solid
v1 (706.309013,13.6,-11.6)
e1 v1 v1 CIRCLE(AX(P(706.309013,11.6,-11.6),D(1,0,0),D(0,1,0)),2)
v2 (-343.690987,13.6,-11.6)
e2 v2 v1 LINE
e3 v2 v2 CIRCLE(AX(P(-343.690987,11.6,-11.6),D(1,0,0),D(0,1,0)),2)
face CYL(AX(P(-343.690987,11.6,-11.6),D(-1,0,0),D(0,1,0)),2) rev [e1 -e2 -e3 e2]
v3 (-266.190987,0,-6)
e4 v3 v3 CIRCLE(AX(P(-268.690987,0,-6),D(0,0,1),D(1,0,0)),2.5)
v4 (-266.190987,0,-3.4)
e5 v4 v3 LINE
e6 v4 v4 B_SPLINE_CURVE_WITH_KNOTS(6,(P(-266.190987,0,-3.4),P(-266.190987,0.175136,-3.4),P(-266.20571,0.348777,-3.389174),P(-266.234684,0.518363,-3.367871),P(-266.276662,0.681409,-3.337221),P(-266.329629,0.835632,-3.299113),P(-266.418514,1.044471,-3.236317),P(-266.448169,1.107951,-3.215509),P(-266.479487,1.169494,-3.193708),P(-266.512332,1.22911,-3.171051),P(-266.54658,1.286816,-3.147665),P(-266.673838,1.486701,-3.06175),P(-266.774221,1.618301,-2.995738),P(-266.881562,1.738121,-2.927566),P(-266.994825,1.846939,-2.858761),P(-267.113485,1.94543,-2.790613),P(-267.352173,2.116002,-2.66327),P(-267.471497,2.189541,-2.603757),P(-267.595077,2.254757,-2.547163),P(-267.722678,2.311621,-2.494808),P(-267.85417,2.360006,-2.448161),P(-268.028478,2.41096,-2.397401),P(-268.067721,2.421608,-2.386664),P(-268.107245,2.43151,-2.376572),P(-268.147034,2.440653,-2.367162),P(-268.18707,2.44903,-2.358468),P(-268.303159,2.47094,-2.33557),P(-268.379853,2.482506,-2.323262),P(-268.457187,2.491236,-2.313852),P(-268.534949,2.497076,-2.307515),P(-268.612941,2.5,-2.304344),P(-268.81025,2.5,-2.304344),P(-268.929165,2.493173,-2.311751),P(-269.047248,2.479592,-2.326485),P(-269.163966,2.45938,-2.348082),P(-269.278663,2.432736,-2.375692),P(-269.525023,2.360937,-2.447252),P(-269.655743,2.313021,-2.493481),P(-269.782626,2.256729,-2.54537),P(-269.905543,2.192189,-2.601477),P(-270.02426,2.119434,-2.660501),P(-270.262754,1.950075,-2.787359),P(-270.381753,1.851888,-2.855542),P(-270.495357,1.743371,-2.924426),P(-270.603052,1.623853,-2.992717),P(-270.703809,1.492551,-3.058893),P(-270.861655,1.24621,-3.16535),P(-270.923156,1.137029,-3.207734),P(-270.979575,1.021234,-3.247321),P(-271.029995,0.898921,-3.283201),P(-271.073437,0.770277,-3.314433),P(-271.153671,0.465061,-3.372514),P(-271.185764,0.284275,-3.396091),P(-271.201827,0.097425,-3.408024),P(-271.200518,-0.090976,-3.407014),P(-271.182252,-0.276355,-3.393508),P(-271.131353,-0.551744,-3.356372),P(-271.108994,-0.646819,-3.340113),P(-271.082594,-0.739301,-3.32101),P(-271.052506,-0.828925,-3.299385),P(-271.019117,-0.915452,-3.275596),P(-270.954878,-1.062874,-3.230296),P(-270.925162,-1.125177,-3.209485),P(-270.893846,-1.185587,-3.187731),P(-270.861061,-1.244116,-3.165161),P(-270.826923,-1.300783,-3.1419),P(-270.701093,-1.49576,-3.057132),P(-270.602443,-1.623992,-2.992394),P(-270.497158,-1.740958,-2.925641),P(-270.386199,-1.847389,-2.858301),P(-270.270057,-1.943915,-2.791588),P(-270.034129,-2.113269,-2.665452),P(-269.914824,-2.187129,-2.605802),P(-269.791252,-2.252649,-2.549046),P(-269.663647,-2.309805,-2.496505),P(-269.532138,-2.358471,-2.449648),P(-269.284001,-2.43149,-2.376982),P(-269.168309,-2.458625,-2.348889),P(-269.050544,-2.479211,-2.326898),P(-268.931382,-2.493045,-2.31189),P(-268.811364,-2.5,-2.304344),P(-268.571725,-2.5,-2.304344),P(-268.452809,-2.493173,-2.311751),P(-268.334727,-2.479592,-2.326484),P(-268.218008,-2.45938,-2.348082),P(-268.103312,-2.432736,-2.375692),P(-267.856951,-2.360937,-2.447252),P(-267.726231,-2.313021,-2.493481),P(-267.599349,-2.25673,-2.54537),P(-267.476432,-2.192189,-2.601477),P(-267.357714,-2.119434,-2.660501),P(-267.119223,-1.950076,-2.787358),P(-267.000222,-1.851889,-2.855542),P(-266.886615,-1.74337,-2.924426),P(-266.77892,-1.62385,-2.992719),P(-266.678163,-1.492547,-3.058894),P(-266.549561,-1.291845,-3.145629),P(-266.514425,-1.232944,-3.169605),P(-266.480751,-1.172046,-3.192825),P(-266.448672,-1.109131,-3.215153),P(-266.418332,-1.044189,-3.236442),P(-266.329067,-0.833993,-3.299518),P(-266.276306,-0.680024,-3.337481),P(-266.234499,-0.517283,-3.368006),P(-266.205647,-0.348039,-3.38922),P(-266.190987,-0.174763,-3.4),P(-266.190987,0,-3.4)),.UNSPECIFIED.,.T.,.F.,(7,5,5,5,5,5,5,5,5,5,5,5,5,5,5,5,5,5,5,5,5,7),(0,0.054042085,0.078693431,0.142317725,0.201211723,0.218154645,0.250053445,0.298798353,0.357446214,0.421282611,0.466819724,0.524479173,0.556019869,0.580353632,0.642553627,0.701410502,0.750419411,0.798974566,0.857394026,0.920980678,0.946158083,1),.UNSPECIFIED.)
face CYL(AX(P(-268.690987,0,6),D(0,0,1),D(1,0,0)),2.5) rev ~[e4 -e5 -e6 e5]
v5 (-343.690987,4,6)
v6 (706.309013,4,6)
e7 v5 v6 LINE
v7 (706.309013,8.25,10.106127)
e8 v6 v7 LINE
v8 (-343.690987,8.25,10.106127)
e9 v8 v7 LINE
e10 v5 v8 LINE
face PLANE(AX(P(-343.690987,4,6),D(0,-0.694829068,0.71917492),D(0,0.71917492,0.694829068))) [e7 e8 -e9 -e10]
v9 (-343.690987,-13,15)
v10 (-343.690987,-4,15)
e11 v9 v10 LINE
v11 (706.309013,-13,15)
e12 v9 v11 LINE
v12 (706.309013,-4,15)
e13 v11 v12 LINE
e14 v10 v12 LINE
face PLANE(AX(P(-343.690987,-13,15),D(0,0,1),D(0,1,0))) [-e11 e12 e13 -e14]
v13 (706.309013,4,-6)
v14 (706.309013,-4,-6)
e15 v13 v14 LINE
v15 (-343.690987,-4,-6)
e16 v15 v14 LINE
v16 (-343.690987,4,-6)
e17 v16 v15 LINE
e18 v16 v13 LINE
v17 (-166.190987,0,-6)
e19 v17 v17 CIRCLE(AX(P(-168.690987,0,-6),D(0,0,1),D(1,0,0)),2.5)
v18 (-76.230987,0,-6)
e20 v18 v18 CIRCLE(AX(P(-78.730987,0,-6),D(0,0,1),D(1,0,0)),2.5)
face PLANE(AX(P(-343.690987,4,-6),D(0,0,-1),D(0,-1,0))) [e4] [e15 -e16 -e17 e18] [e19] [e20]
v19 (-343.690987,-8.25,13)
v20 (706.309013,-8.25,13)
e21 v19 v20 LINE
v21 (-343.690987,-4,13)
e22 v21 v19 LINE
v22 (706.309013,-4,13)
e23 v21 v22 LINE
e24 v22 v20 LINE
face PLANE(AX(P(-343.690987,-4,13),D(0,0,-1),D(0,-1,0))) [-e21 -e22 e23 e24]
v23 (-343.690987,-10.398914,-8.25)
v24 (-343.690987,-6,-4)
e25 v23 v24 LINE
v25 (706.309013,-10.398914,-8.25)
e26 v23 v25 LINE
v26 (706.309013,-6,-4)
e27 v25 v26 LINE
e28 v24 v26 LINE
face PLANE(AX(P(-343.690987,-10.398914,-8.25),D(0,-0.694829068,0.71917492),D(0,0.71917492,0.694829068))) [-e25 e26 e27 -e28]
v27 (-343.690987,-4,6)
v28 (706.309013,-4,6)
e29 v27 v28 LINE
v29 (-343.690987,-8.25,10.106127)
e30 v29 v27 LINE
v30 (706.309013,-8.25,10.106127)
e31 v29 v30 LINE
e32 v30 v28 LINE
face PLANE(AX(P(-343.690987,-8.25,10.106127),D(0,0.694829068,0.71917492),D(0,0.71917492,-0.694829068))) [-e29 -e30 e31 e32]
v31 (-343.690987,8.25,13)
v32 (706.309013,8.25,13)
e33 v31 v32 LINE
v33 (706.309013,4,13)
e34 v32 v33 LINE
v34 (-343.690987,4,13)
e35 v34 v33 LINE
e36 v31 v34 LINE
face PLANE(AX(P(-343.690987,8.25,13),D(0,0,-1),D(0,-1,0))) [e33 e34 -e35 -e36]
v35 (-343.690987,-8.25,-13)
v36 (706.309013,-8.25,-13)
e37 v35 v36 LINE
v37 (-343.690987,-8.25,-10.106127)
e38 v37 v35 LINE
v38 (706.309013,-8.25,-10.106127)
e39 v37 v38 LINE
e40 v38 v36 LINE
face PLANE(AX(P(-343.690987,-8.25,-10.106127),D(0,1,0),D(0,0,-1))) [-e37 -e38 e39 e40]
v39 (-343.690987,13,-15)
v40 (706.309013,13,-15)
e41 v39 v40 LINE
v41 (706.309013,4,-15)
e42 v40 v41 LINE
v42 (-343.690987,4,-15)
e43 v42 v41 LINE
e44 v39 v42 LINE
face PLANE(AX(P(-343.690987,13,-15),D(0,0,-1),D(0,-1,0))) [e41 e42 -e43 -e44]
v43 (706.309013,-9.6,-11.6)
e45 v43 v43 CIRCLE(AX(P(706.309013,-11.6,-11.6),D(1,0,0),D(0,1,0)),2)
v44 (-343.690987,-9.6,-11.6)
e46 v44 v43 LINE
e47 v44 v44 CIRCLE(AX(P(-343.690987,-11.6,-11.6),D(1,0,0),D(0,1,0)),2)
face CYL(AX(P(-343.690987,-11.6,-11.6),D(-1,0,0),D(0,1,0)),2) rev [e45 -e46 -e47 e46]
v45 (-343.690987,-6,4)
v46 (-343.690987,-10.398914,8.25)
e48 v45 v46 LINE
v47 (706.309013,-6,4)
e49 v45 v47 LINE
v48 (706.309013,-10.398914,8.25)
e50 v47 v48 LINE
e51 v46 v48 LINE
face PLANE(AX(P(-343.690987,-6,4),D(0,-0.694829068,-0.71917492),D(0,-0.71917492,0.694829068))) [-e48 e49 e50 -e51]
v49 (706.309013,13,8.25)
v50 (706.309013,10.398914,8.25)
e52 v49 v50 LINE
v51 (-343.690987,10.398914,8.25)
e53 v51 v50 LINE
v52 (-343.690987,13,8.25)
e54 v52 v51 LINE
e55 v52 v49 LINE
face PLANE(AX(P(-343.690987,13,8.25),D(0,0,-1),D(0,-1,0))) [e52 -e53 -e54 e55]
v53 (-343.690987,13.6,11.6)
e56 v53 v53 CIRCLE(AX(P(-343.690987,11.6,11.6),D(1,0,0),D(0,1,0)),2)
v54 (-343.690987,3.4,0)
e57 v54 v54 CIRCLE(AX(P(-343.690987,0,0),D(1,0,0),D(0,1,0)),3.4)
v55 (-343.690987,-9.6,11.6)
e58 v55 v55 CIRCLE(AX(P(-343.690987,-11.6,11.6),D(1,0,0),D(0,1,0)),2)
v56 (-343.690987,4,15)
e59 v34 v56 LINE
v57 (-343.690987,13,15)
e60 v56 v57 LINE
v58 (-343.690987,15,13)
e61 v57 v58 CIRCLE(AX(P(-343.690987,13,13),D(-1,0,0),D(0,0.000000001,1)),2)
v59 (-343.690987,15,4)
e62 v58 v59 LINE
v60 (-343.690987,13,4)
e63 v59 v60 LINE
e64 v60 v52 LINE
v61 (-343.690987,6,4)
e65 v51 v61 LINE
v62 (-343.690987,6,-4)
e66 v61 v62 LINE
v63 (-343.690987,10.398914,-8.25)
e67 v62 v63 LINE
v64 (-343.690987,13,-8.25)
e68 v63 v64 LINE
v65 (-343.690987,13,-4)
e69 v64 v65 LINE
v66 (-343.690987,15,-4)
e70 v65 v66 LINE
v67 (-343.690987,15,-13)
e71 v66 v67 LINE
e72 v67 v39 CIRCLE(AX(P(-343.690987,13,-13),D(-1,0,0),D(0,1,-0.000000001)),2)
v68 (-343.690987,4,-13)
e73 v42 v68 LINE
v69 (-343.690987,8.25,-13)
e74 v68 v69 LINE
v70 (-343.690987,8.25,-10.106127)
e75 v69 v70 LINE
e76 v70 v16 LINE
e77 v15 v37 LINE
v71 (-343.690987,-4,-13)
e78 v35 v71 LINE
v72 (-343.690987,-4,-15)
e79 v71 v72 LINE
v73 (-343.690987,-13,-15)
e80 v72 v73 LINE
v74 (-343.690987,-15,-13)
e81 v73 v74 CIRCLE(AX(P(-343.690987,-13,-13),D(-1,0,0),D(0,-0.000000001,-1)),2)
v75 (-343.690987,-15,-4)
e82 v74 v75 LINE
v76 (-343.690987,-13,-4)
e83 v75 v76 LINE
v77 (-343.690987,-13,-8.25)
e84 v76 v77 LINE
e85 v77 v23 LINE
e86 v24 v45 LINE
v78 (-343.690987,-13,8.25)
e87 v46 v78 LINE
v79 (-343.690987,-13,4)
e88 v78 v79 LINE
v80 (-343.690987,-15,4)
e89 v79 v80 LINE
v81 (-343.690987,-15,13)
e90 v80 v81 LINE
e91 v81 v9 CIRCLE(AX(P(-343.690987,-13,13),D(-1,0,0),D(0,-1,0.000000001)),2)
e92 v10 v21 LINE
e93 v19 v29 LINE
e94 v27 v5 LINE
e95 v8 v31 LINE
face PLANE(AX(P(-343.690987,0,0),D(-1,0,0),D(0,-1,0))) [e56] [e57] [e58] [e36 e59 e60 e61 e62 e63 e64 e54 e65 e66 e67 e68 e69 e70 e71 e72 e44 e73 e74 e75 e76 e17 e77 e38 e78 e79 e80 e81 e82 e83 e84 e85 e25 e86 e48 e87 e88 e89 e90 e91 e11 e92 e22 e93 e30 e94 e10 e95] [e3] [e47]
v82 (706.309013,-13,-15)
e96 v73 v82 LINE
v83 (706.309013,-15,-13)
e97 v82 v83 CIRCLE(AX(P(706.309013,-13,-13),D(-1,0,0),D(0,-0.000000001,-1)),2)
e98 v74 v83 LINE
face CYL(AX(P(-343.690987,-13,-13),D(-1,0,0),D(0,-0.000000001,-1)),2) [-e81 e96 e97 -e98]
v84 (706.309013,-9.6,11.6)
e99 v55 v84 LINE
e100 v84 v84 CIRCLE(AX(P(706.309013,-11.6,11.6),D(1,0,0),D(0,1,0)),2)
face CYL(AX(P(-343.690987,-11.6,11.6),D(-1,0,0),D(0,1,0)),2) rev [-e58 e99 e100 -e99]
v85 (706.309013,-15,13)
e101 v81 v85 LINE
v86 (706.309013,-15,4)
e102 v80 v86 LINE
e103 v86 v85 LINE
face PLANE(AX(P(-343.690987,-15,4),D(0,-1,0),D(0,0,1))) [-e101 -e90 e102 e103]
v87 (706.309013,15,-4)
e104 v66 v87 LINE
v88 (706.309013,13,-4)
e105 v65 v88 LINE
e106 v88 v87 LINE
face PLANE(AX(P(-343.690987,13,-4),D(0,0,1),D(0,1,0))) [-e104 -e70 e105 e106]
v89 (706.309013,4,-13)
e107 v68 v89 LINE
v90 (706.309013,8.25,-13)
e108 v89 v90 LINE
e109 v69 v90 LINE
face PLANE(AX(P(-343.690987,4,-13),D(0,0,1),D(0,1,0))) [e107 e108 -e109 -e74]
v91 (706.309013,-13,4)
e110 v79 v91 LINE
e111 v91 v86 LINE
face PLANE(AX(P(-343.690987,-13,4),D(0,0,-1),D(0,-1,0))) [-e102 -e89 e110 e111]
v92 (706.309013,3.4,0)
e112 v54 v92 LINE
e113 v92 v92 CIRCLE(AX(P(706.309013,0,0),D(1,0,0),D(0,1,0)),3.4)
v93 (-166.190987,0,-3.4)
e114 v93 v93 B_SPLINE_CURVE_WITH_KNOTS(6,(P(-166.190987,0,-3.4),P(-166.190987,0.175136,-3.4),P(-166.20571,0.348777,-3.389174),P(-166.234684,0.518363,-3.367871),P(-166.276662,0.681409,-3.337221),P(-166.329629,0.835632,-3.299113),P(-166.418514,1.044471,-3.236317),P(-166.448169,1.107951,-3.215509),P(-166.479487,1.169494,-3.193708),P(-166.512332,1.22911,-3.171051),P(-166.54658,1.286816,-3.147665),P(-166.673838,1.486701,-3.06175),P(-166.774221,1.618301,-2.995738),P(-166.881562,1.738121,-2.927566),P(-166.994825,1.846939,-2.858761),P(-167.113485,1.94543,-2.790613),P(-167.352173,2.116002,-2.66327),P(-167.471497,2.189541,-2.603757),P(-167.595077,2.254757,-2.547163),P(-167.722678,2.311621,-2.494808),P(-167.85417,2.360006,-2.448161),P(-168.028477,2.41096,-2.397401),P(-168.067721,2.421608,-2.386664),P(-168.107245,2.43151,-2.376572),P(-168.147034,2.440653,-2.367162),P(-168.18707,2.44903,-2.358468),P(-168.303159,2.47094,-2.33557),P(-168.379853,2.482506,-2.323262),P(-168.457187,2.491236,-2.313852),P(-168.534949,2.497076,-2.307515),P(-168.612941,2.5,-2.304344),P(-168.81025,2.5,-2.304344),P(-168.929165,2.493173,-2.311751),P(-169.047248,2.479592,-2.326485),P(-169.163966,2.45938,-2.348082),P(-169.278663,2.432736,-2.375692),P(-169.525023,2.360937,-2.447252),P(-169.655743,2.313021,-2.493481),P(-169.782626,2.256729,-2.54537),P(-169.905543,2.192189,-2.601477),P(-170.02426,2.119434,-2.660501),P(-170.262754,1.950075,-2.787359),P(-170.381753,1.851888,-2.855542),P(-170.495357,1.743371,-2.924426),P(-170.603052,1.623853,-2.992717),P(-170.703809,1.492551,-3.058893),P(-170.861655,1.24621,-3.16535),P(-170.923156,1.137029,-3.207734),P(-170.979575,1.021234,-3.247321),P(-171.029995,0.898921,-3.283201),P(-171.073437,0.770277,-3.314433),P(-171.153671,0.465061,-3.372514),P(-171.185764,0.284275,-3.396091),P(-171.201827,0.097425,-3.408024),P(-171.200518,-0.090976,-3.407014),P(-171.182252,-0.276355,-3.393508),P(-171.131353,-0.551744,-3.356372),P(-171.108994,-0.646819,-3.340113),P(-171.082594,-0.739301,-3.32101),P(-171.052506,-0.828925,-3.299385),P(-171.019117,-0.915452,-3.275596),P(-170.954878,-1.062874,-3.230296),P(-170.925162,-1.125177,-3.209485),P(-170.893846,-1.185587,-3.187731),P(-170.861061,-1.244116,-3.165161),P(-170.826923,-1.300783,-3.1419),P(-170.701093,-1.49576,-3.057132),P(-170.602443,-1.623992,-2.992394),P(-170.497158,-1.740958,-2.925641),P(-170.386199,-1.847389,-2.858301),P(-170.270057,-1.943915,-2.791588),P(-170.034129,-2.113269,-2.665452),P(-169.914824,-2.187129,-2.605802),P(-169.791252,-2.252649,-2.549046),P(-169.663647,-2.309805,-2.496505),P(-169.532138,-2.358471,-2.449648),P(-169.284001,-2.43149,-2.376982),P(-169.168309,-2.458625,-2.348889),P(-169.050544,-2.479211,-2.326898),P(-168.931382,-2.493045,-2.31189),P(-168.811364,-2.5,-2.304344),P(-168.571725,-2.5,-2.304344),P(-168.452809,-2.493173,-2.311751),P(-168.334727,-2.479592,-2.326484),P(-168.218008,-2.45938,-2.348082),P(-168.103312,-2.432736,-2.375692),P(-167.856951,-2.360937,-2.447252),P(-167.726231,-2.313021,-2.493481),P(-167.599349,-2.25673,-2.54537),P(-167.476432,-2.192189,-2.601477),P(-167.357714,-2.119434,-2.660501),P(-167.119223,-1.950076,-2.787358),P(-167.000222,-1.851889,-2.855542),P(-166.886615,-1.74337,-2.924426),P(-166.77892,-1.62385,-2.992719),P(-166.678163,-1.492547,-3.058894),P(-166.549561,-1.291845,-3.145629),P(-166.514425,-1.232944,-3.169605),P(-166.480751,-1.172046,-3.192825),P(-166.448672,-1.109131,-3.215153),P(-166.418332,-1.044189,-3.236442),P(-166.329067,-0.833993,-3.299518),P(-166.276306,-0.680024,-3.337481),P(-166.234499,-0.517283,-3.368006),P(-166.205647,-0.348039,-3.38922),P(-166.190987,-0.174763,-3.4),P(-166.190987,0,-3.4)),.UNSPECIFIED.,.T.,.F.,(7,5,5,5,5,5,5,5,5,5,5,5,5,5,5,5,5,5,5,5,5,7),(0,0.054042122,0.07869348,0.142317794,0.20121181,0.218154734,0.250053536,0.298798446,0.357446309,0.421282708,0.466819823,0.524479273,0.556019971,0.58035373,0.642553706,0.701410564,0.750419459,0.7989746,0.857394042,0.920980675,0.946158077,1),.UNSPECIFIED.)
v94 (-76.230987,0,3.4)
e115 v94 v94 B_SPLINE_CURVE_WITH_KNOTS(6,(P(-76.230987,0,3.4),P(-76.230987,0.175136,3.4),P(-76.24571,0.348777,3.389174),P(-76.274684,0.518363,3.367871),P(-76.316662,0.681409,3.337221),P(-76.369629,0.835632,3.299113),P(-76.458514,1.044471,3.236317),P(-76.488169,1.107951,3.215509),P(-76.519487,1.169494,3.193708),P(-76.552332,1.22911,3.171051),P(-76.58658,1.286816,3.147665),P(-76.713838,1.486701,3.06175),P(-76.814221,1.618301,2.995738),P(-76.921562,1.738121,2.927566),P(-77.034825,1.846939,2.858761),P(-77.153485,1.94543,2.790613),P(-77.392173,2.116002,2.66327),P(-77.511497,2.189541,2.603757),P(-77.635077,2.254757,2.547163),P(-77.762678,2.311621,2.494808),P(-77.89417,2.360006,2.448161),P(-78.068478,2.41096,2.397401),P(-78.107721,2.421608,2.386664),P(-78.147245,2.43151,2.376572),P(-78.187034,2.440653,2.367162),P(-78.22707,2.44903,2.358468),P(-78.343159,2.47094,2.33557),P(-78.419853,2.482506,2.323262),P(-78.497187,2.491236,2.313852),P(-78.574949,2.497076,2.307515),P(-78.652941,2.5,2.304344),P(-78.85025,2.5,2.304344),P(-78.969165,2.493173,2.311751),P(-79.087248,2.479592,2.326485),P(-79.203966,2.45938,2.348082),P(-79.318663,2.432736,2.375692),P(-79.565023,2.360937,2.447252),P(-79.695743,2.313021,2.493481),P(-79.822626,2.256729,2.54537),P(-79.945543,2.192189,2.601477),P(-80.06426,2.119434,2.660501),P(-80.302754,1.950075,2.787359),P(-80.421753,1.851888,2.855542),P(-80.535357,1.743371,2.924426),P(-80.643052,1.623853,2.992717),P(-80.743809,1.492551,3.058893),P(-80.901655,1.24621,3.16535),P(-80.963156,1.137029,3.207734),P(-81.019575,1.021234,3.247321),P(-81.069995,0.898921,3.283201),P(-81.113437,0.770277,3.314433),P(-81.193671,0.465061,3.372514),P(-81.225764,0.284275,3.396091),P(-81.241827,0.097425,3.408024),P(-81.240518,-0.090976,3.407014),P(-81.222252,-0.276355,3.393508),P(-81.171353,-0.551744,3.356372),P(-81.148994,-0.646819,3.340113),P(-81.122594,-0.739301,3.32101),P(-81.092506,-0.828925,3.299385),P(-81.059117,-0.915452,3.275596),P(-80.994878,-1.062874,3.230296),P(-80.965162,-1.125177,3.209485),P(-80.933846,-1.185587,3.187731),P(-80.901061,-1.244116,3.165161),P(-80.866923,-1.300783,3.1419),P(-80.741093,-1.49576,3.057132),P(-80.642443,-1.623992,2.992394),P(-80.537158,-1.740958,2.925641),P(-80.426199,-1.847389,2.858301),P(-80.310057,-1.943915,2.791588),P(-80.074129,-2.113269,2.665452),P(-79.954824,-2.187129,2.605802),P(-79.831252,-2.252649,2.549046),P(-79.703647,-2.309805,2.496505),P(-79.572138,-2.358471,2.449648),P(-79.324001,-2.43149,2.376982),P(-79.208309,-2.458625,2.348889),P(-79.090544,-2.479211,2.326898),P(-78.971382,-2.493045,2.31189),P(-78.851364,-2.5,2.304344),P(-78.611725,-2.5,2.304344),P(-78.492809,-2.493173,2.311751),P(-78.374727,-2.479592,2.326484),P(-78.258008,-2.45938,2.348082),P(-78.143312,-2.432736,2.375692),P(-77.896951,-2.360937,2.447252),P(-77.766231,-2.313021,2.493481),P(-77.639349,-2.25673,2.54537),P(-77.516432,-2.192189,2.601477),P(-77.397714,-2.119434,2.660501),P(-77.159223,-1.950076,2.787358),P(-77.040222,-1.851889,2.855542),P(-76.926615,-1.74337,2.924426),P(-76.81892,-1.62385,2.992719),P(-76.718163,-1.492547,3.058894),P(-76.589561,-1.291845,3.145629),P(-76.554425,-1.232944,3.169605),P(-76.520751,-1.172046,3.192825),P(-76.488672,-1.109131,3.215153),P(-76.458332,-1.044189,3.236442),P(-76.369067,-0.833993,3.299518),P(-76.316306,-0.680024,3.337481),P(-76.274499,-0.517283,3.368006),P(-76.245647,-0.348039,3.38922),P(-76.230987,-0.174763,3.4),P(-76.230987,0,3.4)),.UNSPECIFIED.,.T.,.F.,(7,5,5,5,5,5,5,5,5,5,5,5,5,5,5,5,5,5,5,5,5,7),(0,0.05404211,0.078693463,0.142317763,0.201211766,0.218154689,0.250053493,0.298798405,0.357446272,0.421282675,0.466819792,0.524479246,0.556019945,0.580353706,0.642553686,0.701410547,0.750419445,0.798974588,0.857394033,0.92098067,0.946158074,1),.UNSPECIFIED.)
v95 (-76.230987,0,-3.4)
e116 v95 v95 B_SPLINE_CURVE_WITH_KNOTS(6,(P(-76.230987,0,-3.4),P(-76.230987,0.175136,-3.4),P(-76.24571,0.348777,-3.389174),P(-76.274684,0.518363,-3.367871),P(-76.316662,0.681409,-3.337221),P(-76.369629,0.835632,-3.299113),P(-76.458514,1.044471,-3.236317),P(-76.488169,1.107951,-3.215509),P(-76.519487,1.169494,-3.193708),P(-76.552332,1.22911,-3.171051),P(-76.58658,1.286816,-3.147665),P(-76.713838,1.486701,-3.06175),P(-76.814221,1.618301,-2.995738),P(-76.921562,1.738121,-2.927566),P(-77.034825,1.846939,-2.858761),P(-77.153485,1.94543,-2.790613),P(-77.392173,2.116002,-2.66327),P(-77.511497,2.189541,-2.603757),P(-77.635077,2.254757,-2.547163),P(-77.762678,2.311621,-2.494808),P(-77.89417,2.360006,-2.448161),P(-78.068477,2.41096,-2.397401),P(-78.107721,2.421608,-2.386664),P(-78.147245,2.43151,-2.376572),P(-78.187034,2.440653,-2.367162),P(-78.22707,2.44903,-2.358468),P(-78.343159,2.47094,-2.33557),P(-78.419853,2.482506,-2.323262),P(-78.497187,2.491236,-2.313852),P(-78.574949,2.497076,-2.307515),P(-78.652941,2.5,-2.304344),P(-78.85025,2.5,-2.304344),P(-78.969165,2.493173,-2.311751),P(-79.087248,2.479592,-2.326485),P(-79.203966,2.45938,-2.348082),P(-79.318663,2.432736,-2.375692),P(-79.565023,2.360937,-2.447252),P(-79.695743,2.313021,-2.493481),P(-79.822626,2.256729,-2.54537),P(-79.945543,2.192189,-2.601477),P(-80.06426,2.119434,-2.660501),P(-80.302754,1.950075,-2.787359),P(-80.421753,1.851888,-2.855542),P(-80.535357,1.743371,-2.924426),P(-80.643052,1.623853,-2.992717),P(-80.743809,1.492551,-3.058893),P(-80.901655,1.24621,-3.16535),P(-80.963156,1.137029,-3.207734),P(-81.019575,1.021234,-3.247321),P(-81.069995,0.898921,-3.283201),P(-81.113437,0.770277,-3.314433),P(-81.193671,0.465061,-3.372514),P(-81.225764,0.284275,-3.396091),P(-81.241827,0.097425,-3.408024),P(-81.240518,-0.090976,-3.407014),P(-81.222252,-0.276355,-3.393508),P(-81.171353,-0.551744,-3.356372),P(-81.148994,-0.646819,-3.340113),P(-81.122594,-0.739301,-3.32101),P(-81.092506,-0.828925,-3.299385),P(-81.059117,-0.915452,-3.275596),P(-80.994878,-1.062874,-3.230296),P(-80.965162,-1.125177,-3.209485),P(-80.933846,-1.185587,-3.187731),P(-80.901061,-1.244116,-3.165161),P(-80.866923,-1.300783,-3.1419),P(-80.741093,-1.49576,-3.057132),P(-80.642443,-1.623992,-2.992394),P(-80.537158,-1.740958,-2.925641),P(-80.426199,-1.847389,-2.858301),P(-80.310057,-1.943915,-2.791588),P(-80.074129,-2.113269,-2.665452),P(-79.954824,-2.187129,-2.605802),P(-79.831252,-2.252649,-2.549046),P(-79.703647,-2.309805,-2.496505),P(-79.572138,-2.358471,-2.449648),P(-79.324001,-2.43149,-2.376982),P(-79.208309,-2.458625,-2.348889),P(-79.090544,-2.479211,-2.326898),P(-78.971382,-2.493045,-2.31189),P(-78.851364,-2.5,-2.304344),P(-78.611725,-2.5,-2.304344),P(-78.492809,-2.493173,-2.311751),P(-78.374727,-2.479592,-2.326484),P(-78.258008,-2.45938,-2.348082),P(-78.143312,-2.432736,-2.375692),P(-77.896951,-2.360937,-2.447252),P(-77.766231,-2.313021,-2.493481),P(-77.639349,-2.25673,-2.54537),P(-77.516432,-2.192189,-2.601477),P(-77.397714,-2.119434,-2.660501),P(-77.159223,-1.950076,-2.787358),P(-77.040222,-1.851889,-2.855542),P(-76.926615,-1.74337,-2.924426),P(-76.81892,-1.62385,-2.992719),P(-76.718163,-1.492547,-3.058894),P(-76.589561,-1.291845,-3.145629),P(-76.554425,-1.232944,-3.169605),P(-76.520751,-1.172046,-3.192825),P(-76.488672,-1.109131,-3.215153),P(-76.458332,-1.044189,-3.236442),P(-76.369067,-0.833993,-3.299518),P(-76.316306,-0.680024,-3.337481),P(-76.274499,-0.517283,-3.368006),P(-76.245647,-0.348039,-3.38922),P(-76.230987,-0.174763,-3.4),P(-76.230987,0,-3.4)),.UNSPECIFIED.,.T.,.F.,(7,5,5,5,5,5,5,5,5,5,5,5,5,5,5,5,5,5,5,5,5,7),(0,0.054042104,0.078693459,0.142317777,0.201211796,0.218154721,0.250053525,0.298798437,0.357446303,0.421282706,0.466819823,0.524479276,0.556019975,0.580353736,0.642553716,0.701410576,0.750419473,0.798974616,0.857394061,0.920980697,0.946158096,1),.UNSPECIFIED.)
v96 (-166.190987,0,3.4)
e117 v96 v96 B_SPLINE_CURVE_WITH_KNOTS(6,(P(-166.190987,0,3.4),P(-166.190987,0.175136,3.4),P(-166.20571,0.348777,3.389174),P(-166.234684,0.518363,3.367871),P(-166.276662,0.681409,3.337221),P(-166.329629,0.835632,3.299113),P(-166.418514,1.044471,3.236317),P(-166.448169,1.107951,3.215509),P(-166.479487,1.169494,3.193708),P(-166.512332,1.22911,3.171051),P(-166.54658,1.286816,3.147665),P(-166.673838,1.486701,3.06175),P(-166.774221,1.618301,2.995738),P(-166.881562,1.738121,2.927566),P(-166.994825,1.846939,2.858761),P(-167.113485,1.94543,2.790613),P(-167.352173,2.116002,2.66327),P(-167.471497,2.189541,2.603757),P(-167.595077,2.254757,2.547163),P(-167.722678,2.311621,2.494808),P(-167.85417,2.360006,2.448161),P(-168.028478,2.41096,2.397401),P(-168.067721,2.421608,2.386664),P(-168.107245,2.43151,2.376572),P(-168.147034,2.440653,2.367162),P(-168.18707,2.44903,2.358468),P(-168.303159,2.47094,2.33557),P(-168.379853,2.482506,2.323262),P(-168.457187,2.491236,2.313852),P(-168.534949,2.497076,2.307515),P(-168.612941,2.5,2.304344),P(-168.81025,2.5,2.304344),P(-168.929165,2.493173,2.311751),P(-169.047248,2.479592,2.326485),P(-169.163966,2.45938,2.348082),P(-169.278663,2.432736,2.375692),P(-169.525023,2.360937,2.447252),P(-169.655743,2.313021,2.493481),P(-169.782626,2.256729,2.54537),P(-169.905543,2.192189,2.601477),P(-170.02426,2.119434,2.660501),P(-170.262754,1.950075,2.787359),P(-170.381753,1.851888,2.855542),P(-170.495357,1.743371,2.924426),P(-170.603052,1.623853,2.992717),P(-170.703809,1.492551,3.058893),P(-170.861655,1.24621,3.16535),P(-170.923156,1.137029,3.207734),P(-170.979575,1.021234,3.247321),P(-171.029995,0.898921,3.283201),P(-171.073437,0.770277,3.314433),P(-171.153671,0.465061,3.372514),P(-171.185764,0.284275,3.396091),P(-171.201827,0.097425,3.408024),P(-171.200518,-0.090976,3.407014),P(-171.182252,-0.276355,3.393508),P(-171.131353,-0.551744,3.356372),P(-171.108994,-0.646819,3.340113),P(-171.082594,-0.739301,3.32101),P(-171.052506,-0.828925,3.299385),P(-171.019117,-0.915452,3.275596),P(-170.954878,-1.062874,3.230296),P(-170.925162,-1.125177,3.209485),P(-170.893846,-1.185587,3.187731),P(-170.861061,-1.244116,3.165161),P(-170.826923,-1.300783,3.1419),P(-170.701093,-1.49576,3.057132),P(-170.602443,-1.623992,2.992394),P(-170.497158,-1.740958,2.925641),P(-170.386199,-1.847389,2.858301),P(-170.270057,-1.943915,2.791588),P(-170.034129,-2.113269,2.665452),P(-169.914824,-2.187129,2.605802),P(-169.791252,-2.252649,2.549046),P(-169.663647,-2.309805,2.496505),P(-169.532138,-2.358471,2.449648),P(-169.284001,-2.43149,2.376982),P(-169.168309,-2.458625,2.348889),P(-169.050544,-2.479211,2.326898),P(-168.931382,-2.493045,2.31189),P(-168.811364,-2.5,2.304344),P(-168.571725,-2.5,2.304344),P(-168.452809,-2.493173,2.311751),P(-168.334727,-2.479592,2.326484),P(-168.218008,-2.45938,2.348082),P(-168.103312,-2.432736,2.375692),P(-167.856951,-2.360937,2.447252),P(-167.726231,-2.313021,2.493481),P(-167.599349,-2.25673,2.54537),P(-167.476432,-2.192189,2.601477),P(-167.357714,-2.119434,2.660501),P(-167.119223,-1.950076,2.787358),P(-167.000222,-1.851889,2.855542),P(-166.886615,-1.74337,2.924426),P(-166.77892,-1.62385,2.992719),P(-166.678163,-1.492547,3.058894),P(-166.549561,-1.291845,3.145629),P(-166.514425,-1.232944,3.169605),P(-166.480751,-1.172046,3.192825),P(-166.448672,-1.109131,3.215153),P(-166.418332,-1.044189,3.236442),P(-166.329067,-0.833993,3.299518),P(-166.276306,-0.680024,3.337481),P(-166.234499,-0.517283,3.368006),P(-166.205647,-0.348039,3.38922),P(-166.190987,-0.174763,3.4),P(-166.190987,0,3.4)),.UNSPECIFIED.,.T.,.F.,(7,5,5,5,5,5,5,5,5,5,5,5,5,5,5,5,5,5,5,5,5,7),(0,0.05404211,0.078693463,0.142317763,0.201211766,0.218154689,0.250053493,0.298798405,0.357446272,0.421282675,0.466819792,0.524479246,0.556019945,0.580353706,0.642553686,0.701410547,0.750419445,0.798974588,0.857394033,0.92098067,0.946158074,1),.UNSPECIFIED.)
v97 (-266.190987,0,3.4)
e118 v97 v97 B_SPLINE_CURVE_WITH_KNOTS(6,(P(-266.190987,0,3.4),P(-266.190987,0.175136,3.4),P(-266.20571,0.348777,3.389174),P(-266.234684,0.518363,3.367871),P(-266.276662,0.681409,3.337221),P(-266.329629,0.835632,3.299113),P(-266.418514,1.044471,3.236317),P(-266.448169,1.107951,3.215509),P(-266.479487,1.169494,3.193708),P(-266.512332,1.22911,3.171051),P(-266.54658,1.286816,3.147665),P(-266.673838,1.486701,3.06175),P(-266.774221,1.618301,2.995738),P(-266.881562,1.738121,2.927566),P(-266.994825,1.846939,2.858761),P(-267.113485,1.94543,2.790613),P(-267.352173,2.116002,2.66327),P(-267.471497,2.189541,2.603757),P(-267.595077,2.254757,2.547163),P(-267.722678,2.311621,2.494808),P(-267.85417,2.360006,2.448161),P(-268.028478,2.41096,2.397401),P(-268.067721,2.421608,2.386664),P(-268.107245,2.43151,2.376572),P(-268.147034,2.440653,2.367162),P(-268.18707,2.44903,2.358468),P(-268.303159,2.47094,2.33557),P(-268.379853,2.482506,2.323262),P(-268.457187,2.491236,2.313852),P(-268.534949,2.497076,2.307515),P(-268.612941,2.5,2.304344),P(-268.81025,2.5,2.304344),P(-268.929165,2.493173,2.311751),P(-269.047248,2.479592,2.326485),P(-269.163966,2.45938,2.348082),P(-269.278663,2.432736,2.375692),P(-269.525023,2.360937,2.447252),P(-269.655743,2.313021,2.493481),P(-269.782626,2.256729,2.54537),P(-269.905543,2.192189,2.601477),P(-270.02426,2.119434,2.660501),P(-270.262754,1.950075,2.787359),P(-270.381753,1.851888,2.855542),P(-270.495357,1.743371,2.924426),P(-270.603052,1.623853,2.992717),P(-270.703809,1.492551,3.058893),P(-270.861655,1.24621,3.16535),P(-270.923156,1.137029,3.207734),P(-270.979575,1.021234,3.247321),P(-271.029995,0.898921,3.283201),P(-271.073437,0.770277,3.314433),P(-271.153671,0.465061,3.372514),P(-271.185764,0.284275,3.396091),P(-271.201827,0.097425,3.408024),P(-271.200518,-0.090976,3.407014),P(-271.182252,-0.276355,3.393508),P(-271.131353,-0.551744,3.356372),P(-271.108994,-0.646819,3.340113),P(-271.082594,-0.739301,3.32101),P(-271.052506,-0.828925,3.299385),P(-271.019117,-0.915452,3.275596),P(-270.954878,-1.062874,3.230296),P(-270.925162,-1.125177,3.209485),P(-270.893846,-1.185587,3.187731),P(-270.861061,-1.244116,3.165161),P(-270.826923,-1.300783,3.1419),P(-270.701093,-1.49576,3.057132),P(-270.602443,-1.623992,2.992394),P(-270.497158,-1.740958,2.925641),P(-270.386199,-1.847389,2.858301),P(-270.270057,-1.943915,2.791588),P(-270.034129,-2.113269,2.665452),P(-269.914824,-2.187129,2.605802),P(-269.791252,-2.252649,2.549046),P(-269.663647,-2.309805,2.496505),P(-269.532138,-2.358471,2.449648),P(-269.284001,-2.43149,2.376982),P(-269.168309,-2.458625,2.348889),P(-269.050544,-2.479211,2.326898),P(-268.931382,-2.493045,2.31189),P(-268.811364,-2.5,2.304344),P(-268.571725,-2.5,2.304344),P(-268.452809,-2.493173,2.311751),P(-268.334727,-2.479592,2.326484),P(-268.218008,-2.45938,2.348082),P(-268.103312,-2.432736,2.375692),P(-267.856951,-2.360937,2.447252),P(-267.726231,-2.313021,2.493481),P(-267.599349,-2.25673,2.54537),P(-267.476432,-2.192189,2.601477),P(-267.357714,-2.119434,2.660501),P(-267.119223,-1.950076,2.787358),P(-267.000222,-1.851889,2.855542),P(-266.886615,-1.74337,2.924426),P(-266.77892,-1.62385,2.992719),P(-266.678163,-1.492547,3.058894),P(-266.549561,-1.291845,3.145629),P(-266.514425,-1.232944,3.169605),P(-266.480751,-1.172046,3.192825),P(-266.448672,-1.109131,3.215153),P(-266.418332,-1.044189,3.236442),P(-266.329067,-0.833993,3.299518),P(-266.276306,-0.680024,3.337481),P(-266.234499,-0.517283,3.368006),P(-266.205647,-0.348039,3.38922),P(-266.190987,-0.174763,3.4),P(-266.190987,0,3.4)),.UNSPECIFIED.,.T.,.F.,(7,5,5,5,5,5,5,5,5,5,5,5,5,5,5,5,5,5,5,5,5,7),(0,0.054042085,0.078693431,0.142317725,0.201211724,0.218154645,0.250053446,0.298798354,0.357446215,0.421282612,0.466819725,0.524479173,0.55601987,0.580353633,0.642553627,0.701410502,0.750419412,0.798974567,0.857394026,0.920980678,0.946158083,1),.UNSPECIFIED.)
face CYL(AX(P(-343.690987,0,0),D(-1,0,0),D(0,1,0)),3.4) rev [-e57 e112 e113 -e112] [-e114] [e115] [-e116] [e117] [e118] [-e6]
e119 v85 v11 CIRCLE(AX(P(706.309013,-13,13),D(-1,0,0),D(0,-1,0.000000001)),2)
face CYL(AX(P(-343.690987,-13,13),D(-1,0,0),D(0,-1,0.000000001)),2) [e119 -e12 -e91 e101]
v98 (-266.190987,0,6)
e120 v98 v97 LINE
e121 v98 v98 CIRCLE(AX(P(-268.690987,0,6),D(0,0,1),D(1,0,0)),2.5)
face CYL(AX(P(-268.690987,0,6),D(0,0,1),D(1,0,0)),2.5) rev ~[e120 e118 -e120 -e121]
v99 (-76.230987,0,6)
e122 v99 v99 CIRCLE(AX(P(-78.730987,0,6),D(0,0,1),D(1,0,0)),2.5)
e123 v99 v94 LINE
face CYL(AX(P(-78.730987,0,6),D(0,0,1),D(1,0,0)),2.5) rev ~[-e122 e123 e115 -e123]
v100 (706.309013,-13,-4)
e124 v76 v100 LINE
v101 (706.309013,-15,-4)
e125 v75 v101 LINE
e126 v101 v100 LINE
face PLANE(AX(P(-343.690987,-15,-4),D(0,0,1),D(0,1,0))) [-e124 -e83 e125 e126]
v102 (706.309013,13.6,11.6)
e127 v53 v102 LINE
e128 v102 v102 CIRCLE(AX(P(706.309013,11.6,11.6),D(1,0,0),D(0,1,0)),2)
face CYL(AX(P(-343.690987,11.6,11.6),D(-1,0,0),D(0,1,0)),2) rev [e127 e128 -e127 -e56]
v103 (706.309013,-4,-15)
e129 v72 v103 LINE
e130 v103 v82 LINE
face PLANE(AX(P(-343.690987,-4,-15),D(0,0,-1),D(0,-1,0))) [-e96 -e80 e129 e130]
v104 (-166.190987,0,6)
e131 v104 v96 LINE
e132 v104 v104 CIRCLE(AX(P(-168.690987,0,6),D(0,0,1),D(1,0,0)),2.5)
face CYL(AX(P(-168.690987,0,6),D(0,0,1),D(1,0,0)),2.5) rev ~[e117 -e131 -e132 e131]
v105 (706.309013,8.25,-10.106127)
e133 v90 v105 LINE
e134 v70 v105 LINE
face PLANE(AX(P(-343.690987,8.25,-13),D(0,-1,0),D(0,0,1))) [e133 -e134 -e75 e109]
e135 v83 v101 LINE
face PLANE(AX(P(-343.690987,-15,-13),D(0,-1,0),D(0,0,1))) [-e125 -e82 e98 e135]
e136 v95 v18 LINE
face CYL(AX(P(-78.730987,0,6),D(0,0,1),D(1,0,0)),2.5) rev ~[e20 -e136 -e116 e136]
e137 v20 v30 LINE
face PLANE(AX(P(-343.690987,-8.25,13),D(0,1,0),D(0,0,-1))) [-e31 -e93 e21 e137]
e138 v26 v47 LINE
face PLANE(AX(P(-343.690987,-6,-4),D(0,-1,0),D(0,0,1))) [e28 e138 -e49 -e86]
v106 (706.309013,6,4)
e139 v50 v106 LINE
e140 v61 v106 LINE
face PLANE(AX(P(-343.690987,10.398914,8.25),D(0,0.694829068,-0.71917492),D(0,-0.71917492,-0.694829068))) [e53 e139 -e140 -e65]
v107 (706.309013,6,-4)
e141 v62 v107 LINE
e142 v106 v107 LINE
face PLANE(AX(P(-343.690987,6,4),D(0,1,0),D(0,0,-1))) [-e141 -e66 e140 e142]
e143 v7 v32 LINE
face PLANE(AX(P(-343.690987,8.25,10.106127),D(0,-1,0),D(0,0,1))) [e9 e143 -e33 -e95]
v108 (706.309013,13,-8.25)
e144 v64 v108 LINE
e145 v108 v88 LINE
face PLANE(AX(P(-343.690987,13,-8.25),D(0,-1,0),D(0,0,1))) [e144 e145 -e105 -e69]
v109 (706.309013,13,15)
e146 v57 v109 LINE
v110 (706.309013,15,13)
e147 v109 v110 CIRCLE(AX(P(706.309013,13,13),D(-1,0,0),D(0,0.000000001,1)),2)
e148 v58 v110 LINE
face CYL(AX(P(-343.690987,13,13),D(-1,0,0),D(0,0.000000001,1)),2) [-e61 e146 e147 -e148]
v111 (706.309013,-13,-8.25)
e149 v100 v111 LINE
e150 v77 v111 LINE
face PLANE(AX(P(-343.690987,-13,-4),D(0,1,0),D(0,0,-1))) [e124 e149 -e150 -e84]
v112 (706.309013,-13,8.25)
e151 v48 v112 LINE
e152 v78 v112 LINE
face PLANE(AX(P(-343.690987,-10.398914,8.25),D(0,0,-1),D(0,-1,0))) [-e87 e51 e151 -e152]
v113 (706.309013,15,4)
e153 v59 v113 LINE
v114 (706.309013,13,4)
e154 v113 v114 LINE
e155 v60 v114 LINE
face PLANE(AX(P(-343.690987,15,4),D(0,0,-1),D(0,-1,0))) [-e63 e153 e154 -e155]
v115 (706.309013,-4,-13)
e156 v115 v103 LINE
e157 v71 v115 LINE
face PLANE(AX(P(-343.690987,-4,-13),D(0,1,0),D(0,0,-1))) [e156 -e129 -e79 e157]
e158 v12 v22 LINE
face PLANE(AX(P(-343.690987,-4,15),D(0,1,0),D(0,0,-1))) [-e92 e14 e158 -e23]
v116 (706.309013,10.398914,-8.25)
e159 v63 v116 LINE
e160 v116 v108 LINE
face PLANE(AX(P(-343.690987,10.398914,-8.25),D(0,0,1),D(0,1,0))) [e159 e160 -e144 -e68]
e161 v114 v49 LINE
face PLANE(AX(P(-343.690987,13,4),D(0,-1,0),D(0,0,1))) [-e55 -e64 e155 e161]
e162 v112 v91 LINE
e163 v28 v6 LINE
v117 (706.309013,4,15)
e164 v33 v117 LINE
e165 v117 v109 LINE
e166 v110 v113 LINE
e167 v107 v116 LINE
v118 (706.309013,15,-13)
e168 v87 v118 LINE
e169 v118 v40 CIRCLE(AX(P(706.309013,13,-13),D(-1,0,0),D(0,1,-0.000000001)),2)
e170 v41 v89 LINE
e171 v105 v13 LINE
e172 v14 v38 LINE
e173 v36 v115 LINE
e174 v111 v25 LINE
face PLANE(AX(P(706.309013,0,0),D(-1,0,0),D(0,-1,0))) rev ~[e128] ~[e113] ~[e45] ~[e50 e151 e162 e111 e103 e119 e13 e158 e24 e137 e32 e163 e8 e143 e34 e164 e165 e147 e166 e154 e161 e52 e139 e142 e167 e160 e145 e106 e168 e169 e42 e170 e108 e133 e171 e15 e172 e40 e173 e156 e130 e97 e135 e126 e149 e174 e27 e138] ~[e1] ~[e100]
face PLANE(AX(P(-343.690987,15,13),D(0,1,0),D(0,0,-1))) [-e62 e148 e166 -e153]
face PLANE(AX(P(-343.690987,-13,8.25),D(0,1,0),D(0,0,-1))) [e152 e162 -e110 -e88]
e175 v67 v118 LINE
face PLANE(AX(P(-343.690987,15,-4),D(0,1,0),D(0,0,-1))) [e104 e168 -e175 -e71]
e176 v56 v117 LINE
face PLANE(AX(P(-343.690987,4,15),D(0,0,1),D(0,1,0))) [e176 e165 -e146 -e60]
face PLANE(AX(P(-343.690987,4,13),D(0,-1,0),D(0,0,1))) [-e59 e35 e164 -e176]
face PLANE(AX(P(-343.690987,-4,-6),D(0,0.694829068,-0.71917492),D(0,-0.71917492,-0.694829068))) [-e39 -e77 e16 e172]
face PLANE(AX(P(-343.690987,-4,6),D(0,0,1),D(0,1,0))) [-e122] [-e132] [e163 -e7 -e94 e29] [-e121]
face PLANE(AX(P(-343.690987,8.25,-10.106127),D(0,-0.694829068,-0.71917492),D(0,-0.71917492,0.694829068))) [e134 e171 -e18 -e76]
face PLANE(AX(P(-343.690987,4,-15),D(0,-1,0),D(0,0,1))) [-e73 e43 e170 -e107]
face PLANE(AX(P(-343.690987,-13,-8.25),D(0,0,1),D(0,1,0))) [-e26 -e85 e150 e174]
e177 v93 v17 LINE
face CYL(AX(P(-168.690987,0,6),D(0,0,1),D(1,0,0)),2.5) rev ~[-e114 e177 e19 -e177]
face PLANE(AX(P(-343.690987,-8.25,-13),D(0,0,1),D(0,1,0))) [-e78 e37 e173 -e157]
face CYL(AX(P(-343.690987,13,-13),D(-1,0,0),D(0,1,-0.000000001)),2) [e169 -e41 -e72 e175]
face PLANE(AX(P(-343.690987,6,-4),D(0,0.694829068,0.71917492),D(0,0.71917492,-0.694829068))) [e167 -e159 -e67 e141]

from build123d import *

# Parameters (mm, degrees)
SKETCH11_R                = 3.4
SKETCH11_R_2              = 2
NEW_ALUM_ALUM3BY3_1_DEPTH = 1050
SKETCH12_R                = 2.5
CUT_EXTRUDE1_DEPTH        = 707.780320658


with BuildPart() as part:
    # Sketch11 → New alum ALUM3BY3(1) (new body)
    with BuildSketch(Plane.YZ.offset(-343.690987124)):
        with BuildLine():
            Line((-4, 6), (4, 6))
            Line((4, 6), (8.25, 10.106126974))
            Line((8.25, 10.106126974), (8.25, 13))
            Line((8.25, 13), (4, 13))
            Line((4, 13), (4, 15))
            Line((4, 15), (13, 15))
            ThreePointArc((13, 15), (14.414213562, 14.414213562), (15, 13))
            Line((15, 13), (15, 4))
            Line((15, 4), (13, 4))
            Line((13, 4), (13, 8.25))
            Line((13, 8.25), (10.398914138, 8.25))
            Line((10.398914138, 8.25), (6, 4))
            Line((6, 4), (6, -4))
            Line((6, -4), (10.398914138, -8.25))
            Line((10.398914138, -8.25), (13, -8.25))
            Line((13, -8.25), (13, -4))
            Line((13, -4), (15, -4))
            Line((15, -4), (15, -13))
            ThreePointArc((15, -13), (14.414213562, -14.414213562), (13, -15))
            Line((13, -15), (4, -15))
            Line((4, -15), (4, -13))
            Line((4, -13), (8.25, -13))
            Line((8.25, -13), (8.25, -10.106126974))
            Line((8.25, -10.106126974), (4, -6))
            Line((4, -6), (-4, -6))
            Line((-4, -6), (-8.25, -10.106126974))
            Line((-8.25, -10.106126974), (-8.25, -13))
            Line((-8.25, -13), (-4, -13))
            Line((-4, -13), (-4, -15))
            Line((-4, -15), (-13, -15))
            ThreePointArc((-13, -15), (-14.414213562, -14.414213562), (-15, -13))
            Line((-15, -13), (-15, -4))
            Line((-15, -4), (-13, -4))
            Line((-13, -4), (-13, -8.25))
            Line((-13, -8.25), (-10.398914138, -8.25))
            Line((-10.398914138, -8.25), (-6, -4))
            Line((-6, -4), (-6, 4))
            Line((-6, 4), (-10.398914138, 8.25))
            Line((-10.398914138, 8.25), (-13, 8.25))
            Line((-13, 8.25), (-13, 4))
            Line((-13, 4), (-15, 4))
            Line((-15, 4), (-15, 13))
            ThreePointArc((-15, 13), (-14.414213562, 14.414213562), (-13, 15))
            Line((-13, 15), (-4, 15))
            Line((-4, 15), (-4, 13))
            Line((-4, 13), (-8.25, 13))
            Line((-8.25, 13), (-8.25, 10.106126974))
            Line((-8.25, 10.106126974), (-4, 6))
        make_face()
        Circle(SKETCH11_R, mode=Mode.SUBTRACT)
        with Locations((11.6, 11.6)):
            Circle(SKETCH11_R_2, mode=Mode.SUBTRACT)
        with Locations((-11.6, 11.6)):
            Circle(SKETCH11_R_2, mode=Mode.SUBTRACT)
        with Locations((11.6, -11.6)):
            Circle(SKETCH11_R_2, mode=Mode.SUBTRACT)
        with Locations((-11.6, -11.6)):
            Circle(SKETCH11_R_2, mode=Mode.SUBTRACT)
    extrude(amount=NEW_ALUM_ALUM3BY3_1_DEPTH)

    # Sketch12 → Cut-Extrude1 (cut, through all)
    with BuildSketch(Plane.XY.offset(6)):
        with Locations((-268.690987124, 0)):
            Circle(SKETCH12_R)
        with Locations((-168.690987124, 0)):
            Circle(SKETCH12_R)
        with Locations((-78.730987124, 0)):
            Circle(SKETCH12_R)
    extrude(amount=-CUT_EXTRUDE1_DEPTH, mode=Mode.SUBTRACT)


solid = part.part
